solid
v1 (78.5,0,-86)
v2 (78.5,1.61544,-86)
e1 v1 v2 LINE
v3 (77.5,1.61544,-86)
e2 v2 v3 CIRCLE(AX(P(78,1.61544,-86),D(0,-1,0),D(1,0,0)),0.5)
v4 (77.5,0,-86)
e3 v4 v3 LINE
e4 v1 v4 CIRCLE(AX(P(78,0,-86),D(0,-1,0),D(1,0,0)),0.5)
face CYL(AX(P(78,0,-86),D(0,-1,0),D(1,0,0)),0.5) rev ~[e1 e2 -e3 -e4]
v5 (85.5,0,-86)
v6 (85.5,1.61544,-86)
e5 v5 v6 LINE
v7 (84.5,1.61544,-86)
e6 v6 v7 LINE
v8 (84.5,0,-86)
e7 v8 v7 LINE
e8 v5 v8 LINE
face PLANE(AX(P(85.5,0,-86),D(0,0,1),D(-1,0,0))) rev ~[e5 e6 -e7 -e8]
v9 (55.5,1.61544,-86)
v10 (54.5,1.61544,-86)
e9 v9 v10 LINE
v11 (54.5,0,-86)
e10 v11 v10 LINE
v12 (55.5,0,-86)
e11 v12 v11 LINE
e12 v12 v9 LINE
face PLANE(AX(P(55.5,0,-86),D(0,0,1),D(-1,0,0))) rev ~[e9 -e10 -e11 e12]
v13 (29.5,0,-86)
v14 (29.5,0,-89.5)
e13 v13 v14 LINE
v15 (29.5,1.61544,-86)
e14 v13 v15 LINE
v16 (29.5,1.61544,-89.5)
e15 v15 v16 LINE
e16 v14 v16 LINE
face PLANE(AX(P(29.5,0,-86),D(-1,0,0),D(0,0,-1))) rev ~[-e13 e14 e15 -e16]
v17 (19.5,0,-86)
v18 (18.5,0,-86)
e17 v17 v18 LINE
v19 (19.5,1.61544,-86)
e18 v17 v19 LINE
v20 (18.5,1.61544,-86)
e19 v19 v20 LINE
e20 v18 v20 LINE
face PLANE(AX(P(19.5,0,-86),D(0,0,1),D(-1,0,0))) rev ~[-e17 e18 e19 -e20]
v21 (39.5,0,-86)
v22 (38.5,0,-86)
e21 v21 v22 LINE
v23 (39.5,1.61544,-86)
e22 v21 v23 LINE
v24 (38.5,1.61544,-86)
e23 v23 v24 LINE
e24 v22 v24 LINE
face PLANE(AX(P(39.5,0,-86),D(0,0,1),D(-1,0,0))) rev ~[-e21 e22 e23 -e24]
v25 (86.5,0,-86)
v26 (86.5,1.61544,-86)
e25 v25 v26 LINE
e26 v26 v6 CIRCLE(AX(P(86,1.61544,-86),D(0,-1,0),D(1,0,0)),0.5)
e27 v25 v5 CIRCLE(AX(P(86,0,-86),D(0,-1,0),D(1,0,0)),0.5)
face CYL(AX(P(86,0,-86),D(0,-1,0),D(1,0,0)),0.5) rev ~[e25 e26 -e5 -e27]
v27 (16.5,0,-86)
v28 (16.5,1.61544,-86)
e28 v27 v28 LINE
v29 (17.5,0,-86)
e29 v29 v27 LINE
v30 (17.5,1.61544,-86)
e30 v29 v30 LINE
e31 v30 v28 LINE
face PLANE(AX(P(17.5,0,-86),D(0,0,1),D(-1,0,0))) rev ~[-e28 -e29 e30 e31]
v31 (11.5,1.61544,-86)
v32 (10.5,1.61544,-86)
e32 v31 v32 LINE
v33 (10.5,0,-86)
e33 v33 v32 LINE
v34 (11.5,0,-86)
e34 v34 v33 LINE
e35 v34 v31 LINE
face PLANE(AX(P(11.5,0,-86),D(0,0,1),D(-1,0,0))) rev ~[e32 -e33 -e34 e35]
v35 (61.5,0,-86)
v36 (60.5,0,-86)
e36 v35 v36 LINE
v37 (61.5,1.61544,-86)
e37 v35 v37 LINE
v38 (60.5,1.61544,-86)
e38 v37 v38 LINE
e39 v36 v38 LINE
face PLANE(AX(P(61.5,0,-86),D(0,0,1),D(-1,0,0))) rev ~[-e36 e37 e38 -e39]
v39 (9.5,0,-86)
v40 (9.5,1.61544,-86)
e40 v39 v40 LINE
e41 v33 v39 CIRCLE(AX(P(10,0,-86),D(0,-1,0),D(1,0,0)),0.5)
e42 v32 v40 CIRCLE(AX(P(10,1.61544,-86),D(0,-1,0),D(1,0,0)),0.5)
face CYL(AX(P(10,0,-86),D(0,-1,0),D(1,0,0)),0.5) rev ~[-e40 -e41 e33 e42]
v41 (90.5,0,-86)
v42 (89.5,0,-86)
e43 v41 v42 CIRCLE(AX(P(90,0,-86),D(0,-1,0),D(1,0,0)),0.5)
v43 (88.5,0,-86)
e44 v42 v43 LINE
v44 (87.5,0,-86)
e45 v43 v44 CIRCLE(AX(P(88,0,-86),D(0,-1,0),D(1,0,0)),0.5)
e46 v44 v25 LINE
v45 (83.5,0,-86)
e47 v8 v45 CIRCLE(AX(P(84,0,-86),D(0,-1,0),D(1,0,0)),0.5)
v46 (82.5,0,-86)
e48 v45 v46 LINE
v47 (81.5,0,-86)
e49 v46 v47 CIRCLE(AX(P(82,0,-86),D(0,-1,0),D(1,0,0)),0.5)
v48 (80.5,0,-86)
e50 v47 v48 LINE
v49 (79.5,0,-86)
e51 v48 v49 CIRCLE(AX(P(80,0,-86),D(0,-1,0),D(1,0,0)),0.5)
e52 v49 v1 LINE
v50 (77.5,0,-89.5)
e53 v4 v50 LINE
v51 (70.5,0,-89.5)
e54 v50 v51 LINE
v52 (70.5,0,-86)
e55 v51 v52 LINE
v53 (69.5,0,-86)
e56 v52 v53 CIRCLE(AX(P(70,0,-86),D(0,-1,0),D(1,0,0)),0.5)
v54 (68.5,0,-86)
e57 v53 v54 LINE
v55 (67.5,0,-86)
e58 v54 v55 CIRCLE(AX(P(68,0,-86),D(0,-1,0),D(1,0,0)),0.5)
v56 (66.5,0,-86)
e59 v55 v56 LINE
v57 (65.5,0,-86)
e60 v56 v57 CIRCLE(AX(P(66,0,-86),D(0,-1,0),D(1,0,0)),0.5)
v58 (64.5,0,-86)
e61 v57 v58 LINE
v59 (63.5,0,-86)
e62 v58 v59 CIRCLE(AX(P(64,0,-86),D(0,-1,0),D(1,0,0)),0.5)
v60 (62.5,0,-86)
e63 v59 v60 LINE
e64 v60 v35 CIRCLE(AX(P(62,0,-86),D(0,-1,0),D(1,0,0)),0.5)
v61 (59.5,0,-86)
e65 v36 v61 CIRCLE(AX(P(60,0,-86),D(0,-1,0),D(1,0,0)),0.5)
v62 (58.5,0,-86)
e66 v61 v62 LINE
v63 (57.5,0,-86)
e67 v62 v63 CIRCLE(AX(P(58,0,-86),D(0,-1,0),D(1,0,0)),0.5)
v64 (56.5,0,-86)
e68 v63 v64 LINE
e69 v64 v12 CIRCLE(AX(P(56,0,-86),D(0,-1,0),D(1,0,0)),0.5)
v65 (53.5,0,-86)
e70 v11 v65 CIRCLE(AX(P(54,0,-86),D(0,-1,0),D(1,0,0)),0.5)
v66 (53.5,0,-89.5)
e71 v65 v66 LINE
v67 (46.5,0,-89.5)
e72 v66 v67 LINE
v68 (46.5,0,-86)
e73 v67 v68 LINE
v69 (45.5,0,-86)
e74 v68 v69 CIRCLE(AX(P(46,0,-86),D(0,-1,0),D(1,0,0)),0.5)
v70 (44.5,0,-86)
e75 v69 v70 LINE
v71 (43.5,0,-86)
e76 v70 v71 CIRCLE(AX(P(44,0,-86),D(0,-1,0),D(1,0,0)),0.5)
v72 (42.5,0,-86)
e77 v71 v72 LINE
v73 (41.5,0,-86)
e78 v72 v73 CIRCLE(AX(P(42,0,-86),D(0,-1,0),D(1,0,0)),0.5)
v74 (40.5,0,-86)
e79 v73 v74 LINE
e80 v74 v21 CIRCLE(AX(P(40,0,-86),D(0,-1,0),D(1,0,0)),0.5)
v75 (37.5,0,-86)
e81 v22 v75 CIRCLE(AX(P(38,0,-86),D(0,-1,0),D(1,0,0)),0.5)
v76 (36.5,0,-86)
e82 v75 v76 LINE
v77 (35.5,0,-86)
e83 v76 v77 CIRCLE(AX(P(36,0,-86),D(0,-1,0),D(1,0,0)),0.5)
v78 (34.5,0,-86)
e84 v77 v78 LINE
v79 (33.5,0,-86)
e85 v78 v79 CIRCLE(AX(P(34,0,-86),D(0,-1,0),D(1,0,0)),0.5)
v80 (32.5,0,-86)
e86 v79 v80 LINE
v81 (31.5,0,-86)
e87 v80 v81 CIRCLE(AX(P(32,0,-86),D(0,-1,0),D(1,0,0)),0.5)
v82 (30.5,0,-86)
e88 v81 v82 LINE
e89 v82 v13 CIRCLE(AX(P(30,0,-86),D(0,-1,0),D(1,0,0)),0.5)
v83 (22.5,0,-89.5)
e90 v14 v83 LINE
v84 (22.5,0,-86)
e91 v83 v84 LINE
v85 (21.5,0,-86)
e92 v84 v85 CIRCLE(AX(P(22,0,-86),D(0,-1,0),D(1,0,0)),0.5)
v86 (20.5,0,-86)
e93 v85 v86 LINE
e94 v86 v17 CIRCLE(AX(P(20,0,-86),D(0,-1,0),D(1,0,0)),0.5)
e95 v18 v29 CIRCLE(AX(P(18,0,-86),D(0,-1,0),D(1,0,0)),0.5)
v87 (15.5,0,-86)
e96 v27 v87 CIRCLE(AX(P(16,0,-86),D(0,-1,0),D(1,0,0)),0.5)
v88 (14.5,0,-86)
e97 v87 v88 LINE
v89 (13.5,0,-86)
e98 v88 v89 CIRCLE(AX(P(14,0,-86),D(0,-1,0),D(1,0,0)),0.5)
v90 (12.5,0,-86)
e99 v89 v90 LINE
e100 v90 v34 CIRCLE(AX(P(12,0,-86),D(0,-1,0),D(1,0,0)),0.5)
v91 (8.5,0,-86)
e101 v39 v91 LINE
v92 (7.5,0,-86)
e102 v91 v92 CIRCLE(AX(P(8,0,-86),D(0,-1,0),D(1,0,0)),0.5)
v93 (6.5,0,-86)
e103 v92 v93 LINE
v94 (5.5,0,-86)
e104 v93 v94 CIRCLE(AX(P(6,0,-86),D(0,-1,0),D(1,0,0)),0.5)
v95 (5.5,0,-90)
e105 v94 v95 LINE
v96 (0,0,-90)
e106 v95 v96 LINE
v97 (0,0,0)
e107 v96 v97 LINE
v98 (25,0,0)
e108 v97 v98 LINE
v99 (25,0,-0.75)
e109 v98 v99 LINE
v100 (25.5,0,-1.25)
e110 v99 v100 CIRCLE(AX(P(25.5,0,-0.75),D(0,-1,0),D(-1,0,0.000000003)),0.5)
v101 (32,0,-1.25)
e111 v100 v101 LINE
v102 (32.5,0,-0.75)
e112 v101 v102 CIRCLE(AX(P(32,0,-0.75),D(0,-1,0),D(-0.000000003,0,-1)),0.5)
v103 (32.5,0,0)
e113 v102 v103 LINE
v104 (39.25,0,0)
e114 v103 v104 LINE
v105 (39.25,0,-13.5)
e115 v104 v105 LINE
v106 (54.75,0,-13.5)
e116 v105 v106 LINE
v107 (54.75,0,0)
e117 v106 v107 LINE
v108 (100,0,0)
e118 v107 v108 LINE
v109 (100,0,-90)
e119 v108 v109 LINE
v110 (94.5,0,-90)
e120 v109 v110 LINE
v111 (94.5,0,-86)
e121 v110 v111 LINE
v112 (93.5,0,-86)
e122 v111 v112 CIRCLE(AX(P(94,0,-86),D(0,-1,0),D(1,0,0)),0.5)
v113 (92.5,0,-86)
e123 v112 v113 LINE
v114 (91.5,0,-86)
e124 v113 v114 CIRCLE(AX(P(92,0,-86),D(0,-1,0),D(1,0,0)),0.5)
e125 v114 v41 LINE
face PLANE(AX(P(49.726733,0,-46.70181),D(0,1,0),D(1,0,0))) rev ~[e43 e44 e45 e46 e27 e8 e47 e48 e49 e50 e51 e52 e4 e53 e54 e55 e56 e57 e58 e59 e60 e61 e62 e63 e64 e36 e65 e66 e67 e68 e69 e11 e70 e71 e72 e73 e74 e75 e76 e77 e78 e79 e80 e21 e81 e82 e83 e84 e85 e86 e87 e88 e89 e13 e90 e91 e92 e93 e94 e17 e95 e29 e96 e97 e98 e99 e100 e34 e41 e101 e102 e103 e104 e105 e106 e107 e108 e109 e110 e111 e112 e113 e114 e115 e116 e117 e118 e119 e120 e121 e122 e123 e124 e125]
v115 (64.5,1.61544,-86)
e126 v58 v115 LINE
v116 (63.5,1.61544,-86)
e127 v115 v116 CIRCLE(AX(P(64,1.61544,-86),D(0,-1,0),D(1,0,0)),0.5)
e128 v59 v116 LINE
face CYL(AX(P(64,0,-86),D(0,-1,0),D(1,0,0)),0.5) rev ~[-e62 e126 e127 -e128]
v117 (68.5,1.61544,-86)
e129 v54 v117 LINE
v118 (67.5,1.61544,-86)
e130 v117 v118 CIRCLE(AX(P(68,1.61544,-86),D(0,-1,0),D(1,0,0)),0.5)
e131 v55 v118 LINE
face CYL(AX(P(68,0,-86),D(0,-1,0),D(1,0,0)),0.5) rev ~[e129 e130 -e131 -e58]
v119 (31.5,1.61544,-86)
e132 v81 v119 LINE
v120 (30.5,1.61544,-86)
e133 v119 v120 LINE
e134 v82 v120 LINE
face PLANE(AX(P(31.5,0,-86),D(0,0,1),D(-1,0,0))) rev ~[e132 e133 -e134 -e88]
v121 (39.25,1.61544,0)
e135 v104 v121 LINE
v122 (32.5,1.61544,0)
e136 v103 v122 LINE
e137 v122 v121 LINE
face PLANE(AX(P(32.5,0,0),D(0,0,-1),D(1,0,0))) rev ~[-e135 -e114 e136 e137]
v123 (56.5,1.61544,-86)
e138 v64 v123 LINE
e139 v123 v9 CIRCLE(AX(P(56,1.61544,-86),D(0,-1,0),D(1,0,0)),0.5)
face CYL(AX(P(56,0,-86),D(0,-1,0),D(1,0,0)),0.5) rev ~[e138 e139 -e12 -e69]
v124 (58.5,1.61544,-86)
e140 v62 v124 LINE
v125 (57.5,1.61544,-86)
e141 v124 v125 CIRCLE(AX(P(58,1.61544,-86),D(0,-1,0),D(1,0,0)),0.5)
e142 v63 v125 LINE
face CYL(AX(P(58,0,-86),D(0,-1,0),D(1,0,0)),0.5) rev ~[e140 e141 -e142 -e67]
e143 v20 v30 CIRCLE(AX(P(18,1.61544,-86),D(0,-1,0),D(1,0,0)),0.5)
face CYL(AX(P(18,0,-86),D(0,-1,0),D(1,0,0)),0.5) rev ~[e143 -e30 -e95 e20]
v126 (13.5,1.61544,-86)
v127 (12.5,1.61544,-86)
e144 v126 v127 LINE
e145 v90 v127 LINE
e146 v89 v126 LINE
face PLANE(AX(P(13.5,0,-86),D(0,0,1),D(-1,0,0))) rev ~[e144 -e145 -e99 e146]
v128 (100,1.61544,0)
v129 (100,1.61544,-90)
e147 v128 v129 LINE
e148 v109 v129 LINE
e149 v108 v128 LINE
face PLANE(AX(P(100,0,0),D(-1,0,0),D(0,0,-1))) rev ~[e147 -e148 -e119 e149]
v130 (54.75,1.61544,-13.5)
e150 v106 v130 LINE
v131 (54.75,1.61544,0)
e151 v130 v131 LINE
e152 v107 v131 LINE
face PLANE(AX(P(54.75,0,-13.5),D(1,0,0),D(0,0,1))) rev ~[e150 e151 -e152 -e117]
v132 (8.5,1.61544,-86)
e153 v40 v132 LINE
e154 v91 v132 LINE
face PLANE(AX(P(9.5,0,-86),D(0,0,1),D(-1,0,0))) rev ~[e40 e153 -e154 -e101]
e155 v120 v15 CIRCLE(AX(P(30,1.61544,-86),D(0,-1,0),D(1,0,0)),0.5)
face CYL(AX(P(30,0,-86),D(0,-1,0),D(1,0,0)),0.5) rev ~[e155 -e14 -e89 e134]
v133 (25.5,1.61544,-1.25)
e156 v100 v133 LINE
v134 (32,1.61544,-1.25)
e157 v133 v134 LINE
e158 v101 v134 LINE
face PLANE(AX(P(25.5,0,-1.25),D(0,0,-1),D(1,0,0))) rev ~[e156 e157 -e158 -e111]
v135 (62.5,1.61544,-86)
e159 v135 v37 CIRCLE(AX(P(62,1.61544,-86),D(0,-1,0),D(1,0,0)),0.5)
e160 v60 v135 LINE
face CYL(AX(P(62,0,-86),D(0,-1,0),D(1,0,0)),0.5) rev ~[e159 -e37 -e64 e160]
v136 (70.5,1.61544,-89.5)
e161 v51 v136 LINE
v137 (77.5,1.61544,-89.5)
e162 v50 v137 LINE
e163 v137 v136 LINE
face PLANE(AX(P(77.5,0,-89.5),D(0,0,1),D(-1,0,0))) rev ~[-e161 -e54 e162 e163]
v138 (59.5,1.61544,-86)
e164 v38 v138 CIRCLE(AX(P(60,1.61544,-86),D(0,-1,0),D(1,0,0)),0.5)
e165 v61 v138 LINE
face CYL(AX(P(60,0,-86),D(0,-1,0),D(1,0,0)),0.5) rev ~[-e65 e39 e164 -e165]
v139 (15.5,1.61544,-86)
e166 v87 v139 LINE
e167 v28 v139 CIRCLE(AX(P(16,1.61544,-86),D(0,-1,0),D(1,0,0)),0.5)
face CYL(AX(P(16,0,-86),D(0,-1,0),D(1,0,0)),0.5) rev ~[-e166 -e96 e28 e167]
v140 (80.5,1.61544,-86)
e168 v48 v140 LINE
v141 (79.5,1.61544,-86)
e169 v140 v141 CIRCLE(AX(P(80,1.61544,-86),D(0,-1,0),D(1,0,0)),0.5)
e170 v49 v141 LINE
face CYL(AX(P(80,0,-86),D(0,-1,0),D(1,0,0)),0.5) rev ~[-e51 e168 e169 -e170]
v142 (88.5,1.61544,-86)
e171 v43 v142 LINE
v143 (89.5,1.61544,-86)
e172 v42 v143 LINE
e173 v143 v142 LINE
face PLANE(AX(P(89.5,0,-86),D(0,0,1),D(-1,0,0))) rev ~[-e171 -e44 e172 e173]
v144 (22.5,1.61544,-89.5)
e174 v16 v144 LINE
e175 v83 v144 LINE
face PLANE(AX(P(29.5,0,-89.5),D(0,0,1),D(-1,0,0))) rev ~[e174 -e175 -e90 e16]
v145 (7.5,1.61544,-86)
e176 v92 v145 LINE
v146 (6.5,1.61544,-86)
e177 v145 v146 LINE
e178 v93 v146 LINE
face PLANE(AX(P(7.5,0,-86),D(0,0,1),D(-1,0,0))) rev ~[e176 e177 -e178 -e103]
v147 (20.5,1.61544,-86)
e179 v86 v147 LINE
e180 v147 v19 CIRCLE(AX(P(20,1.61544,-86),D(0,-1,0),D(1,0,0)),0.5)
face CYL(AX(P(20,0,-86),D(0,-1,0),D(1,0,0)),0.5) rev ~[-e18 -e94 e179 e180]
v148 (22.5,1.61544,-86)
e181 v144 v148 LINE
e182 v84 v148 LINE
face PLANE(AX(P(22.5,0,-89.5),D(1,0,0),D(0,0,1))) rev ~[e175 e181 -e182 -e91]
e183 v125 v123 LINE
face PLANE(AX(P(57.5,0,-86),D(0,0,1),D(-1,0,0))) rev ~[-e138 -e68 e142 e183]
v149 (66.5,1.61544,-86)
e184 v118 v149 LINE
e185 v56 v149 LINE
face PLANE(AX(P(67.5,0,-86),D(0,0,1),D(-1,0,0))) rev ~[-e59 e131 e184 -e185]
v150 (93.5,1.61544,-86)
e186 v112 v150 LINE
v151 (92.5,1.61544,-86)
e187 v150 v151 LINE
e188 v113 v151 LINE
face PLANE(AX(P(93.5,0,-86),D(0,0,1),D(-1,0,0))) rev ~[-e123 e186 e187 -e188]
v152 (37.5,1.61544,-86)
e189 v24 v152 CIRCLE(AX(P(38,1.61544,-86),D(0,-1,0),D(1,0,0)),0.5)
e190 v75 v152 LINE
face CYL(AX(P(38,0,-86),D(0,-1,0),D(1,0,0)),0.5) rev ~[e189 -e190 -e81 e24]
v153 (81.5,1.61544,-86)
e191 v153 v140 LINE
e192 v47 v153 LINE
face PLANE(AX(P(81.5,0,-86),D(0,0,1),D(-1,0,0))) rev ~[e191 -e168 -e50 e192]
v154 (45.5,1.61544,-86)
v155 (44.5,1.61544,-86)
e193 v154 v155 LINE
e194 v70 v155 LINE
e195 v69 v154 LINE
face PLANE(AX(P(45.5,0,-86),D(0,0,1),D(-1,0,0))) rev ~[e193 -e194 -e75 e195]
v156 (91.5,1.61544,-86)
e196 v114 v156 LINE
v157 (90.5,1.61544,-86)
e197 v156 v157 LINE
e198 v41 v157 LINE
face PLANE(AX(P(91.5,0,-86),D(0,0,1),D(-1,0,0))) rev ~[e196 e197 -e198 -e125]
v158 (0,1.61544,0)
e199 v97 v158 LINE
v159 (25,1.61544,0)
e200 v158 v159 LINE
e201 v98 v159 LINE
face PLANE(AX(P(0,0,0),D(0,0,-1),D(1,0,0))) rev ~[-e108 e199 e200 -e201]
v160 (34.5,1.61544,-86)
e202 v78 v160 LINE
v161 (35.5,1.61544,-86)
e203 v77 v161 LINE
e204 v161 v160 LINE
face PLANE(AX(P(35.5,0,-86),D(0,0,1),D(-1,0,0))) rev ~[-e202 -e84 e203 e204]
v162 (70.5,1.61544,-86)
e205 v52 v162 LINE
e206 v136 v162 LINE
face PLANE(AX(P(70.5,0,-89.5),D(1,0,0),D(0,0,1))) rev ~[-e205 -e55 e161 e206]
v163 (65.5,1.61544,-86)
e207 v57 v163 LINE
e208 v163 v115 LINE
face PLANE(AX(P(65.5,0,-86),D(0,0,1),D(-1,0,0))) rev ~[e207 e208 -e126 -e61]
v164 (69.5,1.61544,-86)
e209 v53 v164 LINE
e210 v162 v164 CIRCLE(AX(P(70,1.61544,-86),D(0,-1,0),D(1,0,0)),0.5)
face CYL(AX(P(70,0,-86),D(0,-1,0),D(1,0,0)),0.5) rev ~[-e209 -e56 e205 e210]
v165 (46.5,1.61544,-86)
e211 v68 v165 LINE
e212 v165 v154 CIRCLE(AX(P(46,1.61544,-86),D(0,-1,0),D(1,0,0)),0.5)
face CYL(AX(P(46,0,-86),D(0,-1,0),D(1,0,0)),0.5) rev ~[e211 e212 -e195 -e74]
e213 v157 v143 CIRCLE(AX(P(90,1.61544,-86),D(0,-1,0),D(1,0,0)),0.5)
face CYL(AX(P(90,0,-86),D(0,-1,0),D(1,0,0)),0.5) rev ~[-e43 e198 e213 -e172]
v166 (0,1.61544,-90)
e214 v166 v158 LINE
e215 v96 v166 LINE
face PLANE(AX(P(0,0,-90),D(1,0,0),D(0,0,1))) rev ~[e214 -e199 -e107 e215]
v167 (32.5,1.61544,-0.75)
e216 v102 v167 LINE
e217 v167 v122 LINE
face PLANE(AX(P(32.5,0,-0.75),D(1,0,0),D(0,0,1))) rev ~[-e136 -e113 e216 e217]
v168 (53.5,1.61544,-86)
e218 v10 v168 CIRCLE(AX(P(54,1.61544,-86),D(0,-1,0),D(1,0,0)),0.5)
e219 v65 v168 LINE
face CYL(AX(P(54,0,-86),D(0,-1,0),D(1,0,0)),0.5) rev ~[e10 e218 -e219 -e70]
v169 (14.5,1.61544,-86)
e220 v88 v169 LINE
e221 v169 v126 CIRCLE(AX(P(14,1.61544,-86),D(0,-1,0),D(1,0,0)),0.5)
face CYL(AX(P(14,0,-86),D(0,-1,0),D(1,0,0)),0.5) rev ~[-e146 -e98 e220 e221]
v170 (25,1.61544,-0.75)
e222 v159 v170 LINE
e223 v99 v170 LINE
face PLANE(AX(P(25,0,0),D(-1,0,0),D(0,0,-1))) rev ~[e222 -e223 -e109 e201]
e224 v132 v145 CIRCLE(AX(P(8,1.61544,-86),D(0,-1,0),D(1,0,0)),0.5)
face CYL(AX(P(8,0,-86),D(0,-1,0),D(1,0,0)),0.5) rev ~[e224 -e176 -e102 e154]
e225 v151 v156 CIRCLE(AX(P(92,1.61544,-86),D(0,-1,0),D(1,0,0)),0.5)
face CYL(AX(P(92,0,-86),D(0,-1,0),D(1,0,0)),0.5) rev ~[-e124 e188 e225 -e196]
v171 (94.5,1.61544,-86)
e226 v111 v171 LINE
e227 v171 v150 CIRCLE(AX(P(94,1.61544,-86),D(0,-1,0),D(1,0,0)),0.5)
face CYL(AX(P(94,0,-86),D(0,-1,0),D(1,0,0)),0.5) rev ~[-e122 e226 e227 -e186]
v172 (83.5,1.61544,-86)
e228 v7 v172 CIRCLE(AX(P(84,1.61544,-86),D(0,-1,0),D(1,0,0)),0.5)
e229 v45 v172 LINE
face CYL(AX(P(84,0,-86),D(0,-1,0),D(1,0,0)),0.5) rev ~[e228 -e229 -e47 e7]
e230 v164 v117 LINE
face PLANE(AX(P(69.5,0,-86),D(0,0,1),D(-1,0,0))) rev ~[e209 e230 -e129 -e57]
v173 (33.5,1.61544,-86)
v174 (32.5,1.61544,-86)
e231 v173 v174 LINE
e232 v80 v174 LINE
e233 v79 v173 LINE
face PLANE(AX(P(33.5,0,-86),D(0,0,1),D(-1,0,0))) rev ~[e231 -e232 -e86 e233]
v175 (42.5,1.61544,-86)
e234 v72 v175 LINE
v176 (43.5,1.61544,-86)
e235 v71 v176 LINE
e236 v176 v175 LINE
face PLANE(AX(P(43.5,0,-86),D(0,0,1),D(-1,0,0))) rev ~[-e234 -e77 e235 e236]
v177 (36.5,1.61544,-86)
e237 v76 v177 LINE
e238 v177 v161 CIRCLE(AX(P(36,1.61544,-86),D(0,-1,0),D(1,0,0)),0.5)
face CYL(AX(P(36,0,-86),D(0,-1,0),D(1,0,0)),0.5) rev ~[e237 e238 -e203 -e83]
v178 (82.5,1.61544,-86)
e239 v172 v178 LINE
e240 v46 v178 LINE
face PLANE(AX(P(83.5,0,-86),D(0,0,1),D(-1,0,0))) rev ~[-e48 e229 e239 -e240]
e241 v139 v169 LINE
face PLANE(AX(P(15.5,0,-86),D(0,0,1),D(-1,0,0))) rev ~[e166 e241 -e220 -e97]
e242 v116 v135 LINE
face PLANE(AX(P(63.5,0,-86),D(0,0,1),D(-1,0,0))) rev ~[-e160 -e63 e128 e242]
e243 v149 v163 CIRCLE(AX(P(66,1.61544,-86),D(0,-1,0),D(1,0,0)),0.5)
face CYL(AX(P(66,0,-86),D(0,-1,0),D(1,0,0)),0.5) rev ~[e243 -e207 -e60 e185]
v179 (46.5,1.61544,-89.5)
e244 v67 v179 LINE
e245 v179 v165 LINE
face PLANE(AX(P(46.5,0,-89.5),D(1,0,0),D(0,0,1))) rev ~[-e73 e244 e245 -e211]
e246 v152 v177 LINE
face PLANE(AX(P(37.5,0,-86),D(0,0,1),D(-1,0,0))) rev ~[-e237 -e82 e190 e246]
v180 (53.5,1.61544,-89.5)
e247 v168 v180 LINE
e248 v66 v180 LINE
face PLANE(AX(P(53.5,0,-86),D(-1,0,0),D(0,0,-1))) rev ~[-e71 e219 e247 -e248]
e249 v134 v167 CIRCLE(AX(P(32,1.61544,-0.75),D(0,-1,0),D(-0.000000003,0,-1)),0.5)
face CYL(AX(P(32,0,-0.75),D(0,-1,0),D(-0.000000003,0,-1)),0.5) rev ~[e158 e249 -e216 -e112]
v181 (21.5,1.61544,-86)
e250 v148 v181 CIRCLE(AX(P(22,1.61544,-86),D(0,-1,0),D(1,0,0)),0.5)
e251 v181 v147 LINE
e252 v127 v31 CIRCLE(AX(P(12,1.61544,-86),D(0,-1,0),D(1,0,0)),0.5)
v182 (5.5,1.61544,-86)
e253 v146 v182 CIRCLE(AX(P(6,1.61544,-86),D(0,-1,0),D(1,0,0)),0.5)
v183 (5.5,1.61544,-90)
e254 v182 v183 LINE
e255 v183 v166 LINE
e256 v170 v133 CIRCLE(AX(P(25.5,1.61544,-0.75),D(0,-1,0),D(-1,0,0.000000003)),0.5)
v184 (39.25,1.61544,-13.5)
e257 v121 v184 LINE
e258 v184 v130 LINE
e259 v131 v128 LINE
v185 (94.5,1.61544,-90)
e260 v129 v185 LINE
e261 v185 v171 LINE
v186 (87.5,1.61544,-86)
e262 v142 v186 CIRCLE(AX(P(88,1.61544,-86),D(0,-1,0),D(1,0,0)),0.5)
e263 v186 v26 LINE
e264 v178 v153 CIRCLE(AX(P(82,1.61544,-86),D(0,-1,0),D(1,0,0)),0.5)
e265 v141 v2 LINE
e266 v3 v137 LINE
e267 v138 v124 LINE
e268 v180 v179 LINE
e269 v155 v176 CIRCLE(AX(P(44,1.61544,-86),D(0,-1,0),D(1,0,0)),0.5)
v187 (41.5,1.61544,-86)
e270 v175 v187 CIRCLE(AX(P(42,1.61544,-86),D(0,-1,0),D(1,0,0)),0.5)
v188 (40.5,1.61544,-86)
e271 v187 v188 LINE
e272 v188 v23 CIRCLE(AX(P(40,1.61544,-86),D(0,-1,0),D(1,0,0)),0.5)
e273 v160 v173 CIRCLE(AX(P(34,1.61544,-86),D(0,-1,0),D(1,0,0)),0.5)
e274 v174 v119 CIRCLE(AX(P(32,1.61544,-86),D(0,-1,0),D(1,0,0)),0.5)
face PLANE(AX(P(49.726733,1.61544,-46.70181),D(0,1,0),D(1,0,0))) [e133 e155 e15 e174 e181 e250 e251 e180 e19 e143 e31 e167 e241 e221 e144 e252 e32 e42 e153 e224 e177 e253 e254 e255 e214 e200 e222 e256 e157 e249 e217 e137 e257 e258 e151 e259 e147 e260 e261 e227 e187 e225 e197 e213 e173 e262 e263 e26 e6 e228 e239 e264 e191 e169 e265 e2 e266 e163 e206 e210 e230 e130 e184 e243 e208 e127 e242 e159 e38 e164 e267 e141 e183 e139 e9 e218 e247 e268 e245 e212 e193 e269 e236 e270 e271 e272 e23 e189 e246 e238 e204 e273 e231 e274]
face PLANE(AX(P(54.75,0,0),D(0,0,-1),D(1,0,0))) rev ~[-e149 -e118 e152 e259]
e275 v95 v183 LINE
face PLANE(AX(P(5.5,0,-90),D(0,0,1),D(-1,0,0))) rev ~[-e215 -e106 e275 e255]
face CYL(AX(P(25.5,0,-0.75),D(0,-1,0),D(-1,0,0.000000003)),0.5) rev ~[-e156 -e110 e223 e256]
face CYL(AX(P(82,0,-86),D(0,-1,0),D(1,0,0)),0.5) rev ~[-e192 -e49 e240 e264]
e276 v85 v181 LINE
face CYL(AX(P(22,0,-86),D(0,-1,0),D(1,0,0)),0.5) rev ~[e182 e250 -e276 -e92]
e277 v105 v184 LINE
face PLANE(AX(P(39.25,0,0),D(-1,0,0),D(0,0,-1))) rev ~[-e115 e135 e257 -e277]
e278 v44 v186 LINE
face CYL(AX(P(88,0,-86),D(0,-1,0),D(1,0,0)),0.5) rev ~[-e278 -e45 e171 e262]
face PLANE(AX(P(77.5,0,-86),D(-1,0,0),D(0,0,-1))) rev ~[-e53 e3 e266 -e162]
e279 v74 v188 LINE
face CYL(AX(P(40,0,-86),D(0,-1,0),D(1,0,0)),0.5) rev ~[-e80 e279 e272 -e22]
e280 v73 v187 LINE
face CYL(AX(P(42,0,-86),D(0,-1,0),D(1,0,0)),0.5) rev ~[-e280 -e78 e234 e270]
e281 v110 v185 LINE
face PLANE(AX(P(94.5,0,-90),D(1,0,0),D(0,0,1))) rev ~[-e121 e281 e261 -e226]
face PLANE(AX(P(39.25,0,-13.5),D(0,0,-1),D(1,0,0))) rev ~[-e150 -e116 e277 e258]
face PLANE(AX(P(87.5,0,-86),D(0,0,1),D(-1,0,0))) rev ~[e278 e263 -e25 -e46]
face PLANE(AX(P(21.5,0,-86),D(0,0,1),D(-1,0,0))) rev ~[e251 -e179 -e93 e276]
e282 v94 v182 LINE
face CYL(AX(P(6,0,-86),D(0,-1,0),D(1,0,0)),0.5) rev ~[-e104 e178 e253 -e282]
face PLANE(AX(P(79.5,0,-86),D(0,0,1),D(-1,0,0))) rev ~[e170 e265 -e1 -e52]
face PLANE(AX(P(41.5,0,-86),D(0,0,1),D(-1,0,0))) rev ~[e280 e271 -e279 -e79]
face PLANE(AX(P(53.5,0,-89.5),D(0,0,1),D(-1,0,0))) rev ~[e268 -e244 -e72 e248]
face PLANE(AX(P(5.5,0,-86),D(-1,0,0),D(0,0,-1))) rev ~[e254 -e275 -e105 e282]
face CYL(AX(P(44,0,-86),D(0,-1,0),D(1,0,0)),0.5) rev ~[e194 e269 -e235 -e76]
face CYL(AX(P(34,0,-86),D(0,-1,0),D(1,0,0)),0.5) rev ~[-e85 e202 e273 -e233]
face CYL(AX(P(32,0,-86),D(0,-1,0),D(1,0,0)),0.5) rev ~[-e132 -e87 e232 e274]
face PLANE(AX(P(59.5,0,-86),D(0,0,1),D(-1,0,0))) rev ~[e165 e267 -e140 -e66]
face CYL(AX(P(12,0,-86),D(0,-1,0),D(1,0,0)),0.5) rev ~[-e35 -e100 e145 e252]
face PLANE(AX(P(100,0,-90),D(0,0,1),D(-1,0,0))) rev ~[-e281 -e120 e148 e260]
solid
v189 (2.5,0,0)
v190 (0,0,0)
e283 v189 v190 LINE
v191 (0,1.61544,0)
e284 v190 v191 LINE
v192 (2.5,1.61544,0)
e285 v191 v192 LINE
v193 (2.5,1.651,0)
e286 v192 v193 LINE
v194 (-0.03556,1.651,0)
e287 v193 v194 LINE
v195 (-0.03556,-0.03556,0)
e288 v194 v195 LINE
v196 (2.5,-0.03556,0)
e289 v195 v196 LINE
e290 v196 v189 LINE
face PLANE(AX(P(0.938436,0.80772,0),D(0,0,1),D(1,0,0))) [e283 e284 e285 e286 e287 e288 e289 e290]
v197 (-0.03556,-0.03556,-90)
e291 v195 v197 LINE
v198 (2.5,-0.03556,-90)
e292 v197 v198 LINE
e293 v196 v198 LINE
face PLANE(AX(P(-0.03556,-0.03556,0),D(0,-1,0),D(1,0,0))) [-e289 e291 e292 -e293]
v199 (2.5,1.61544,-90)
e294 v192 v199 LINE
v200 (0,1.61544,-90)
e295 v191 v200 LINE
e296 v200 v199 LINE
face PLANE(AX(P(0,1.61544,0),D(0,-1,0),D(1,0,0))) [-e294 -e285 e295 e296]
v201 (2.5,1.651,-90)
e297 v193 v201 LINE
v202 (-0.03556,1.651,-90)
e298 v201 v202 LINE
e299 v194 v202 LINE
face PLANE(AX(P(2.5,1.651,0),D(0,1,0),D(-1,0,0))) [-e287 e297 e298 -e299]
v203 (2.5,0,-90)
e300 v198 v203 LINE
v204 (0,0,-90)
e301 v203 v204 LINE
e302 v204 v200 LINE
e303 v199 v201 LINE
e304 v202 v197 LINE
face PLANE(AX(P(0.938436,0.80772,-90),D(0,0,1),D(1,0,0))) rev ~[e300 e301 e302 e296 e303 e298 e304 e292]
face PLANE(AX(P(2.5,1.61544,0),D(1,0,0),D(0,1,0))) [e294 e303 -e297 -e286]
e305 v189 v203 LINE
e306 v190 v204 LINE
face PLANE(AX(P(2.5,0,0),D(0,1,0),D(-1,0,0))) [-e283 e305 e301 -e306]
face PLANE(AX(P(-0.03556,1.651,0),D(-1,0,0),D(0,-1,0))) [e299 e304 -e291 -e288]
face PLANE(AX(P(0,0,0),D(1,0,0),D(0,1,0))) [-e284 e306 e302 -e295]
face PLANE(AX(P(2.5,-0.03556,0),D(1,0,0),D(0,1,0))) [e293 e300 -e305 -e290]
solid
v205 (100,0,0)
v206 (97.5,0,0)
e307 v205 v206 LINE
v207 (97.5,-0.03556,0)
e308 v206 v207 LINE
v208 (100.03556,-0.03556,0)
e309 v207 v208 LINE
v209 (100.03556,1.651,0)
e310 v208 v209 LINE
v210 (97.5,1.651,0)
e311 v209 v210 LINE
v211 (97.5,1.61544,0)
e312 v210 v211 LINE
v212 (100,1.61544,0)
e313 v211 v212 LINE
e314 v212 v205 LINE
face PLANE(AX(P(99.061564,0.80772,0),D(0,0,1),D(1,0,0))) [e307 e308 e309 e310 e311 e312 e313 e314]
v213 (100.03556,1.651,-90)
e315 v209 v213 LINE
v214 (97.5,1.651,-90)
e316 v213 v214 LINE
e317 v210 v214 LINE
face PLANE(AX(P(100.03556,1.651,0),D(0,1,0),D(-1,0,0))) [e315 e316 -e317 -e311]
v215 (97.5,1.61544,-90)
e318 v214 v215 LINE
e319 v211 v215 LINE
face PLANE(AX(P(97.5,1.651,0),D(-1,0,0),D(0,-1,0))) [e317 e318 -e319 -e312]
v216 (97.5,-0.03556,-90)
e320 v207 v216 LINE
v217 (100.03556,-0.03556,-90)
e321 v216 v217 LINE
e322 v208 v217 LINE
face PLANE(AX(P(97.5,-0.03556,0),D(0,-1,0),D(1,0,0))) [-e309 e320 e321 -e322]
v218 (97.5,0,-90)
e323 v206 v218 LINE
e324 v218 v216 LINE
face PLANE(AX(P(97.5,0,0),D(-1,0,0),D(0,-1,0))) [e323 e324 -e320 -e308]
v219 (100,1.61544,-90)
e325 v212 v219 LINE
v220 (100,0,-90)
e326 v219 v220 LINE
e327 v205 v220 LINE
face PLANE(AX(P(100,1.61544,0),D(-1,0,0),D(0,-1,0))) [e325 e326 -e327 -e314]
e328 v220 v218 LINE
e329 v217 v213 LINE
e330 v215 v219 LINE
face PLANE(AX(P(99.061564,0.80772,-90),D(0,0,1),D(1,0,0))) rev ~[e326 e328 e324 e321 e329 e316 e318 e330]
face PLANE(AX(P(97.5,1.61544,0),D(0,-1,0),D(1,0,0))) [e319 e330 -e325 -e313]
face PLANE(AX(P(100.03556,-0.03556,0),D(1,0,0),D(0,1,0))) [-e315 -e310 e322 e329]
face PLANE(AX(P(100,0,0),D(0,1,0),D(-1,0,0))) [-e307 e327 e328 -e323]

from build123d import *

# Parameters (mm, degrees)
FR4_DEPTH            = 1.61544
GOLD_PLATING_DEPTH   = 90
GOLD_PLATING_2_DEPTH = 90


with BuildPart() as part:
    # Sketch1 → FR4 (new body)
    with BuildSketch(Plane(origin=(0, 0, 0), x_dir=(1, 0, 0), z_dir=(0, 1, 0))):
        with BuildLine():
            Line((39.25, 0), (39.25, 13.5))
            Line((39.25, 13.5), (54.75, 13.5))
            Line((54.75, 13.5), (54.75, 0))
            Line((54.75, 0), (100, 0))
            Line((100, 0), (100, 90))
            Line((100, 90), (94.5, 90))
            Line((94.5, 90), (94.5, 86))
            ThreePointArc((94.5, 86), (94, 85.5), (93.5, 86))
            Line((93.5, 86), (92.5, 86))
            ThreePointArc((92.5, 86), (92, 85.5), (91.5, 86))
            Line((91.5, 86), (90.5, 86))
            ThreePointArc((90.5, 86), (90, 85.5), (89.5, 86))
            Line((89.5, 86), (88.5, 86))
            ThreePointArc((88.5, 86), (88, 85.5), (87.5, 86))
            Line((87.5, 86), (86.5, 86))
            ThreePointArc((86.5, 86), (86, 85.5), (85.5, 86))
            Line((85.5, 86), (84.5, 86))
            ThreePointArc((84.5, 86), (84, 85.5), (83.5, 86))
            Line((83.5, 86), (82.5, 86))
            ThreePointArc((82.5, 86), (82, 85.5), (81.5, 86))
            Line((81.5, 86), (80.5, 86))
            ThreePointArc((80.5, 86), (80, 85.5), (79.5, 86))
            Line((79.5, 86), (78.5, 86))
            ThreePointArc((78.5, 86), (78, 85.5), (77.5, 86))
            Line((77.5, 86), (77.5, 89.5))
            Line((77.5, 89.5), (70.5, 89.5))
            Line((70.5, 89.5), (70.5, 86))
            ThreePointArc((70.5, 86), (70, 85.5), (69.5, 86))
            Line((69.5, 86), (68.5, 86))
            ThreePointArc((68.5, 86), (68, 85.5), (67.5, 86))
            Line((67.5, 86), (66.5, 86))
            ThreePointArc((66.5, 86), (66, 85.5), (65.5, 86))
            Line((65.5, 86), (64.5, 86))
            ThreePointArc((64.5, 86), (64, 85.5), (63.5, 86))
            Line((63.5, 86), (62.5, 86))
            ThreePointArc((62.5, 86), (62, 85.5), (61.5, 86))
            Line((61.5, 86), (60.5, 86))
            ThreePointArc((60.5, 86), (60, 85.5), (59.5, 86))
            Line((59.5, 86), (58.5, 86))
            ThreePointArc((58.5, 86), (58, 85.5), (57.5, 86))
            Line((57.5, 86), (56.5, 86))
            ThreePointArc((56.5, 86), (56, 85.5), (55.5, 86))
            Line((55.5, 86), (54.5, 86))
            ThreePointArc((54.5, 86), (54, 85.5), (53.5, 86))
            Line((53.5, 86), (53.5, 89.5))
            Line((53.5, 89.5), (46.5, 89.5))
            Line((46.5, 89.5), (46.5, 86))
            ThreePointArc((46.5, 86), (46, 85.5), (45.5, 86))
            Line((45.5, 86), (44.5, 86))
            ThreePointArc((44.5, 86), (44, 85.5), (43.5, 86))
            Line((43.5, 86), (42.5, 86))
            ThreePointArc((42.5, 86), (42, 85.5), (41.5, 86))
            Line((41.5, 86), (40.5, 86))
            ThreePointArc((40.5, 86), (40, 85.5), (39.5, 86))
            Line((39.5, 86), (38.5, 86))
            ThreePointArc((38.5, 86), (38, 85.5), (37.5, 86))
            Line((37.5, 86), (36.5, 86))
            ThreePointArc((36.5, 86), (36, 85.5), (35.5, 86))
            Line((35.5, 86), (34.5, 86))
            ThreePointArc((34.5, 86), (34, 85.5), (33.5, 86))
            Line((33.5, 86), (32.5, 86))
            ThreePointArc((32.5, 86), (32, 85.5), (31.5, 86))
            Line((31.5, 86), (30.5, 86))
            ThreePointArc((30.5, 86), (30, 85.5), (29.5, 86))
            Line((29.5, 86), (29.5, 89.5))
            Line((29.5, 89.5), (22.5, 89.5))
            Line((22.5, 89.5), (22.5, 86))
            ThreePointArc((22.5, 86), (22, 85.5), (21.5, 86))
            Line((21.5, 86), (20.5, 86))
            ThreePointArc((20.5, 86), (20, 85.5), (19.5, 86))
            Line((19.5, 86), (18.5, 86))
            ThreePointArc((18.5, 86), (18, 85.5), (17.5, 86))
            Line((17.5, 86), (16.5, 86))
            ThreePointArc((16.5, 86), (16, 85.5), (15.5, 86))
            Line((15.5, 86), (14.5, 86))
            ThreePointArc((14.5, 86), (14, 85.5), (13.5, 86))
            Line((13.5, 86), (12.5, 86))
            ThreePointArc((12.5, 86), (12, 85.5), (11.5, 86))
            Line((11.5, 86), (10.5, 86))
            ThreePointArc((10.5, 86), (10, 85.5), (9.5, 86))
            Line((9.5, 86), (8.5, 86))
            ThreePointArc((8.5, 86), (8, 85.5), (7.5, 86))
            Line((7.5, 86), (6.5, 86))
            ThreePointArc((6.5, 86), (6, 85.5), (5.5, 86))
            Line((5.5, 86), (5.5, 90))
            Line((5.5, 90), (0, 90))
            Line((0, 90), (0, 0))
            Line((0, 0), (13.5, 0))
            Line((13.5, 0), (25, 0))
            Line((25, 0), (25, 0.75))
            ThreePointArc((25, 0.75), (25.146446609, 1.103553391), (25.5, 1.25))
            Line((25.5, 1.25), (32, 1.25))
            ThreePointArc((32, 1.25), (32.353553391, 1.103553391), (32.5, 0.75))
            Line((32.5, 0.75), (32.5, 0))
            Line((32.5, 0), (39.25, 0))
        make_face()
    extrude(amount=FR4_DEPTH)


with BuildPart() as body_2:
    # Sketch2 → gold-plating (new, through all)
    with BuildSketch(Plane.XY):
        Polygon((2.5, 1.61544), (2.5, 1.651), (-0.03556, 1.651), (-0.03556, -0.03556), (2.5, -0.03556), (2.5, 0), (0, 0), (0, 1.61544), align=None)
    extrude(amount=-GOLD_PLATING_DEPTH)


with BuildPart() as body_3:
    # Sketch2 → gold-plating 2 (new, through all)
    with BuildSketch(Plane.XY):
        Polygon((100, 1.61544), (100, 0), (97.5, 0), (97.5, -0.03556), (100.03556, -0.03556), (100.03556, 1.651), (97.5, 1.651), (97.5, 1.61544), align=None)
    extrude(amount=-GOLD_PLATING_2_DEPTH)


solid = Compound([part.part, body_2.part, body_3.part])
